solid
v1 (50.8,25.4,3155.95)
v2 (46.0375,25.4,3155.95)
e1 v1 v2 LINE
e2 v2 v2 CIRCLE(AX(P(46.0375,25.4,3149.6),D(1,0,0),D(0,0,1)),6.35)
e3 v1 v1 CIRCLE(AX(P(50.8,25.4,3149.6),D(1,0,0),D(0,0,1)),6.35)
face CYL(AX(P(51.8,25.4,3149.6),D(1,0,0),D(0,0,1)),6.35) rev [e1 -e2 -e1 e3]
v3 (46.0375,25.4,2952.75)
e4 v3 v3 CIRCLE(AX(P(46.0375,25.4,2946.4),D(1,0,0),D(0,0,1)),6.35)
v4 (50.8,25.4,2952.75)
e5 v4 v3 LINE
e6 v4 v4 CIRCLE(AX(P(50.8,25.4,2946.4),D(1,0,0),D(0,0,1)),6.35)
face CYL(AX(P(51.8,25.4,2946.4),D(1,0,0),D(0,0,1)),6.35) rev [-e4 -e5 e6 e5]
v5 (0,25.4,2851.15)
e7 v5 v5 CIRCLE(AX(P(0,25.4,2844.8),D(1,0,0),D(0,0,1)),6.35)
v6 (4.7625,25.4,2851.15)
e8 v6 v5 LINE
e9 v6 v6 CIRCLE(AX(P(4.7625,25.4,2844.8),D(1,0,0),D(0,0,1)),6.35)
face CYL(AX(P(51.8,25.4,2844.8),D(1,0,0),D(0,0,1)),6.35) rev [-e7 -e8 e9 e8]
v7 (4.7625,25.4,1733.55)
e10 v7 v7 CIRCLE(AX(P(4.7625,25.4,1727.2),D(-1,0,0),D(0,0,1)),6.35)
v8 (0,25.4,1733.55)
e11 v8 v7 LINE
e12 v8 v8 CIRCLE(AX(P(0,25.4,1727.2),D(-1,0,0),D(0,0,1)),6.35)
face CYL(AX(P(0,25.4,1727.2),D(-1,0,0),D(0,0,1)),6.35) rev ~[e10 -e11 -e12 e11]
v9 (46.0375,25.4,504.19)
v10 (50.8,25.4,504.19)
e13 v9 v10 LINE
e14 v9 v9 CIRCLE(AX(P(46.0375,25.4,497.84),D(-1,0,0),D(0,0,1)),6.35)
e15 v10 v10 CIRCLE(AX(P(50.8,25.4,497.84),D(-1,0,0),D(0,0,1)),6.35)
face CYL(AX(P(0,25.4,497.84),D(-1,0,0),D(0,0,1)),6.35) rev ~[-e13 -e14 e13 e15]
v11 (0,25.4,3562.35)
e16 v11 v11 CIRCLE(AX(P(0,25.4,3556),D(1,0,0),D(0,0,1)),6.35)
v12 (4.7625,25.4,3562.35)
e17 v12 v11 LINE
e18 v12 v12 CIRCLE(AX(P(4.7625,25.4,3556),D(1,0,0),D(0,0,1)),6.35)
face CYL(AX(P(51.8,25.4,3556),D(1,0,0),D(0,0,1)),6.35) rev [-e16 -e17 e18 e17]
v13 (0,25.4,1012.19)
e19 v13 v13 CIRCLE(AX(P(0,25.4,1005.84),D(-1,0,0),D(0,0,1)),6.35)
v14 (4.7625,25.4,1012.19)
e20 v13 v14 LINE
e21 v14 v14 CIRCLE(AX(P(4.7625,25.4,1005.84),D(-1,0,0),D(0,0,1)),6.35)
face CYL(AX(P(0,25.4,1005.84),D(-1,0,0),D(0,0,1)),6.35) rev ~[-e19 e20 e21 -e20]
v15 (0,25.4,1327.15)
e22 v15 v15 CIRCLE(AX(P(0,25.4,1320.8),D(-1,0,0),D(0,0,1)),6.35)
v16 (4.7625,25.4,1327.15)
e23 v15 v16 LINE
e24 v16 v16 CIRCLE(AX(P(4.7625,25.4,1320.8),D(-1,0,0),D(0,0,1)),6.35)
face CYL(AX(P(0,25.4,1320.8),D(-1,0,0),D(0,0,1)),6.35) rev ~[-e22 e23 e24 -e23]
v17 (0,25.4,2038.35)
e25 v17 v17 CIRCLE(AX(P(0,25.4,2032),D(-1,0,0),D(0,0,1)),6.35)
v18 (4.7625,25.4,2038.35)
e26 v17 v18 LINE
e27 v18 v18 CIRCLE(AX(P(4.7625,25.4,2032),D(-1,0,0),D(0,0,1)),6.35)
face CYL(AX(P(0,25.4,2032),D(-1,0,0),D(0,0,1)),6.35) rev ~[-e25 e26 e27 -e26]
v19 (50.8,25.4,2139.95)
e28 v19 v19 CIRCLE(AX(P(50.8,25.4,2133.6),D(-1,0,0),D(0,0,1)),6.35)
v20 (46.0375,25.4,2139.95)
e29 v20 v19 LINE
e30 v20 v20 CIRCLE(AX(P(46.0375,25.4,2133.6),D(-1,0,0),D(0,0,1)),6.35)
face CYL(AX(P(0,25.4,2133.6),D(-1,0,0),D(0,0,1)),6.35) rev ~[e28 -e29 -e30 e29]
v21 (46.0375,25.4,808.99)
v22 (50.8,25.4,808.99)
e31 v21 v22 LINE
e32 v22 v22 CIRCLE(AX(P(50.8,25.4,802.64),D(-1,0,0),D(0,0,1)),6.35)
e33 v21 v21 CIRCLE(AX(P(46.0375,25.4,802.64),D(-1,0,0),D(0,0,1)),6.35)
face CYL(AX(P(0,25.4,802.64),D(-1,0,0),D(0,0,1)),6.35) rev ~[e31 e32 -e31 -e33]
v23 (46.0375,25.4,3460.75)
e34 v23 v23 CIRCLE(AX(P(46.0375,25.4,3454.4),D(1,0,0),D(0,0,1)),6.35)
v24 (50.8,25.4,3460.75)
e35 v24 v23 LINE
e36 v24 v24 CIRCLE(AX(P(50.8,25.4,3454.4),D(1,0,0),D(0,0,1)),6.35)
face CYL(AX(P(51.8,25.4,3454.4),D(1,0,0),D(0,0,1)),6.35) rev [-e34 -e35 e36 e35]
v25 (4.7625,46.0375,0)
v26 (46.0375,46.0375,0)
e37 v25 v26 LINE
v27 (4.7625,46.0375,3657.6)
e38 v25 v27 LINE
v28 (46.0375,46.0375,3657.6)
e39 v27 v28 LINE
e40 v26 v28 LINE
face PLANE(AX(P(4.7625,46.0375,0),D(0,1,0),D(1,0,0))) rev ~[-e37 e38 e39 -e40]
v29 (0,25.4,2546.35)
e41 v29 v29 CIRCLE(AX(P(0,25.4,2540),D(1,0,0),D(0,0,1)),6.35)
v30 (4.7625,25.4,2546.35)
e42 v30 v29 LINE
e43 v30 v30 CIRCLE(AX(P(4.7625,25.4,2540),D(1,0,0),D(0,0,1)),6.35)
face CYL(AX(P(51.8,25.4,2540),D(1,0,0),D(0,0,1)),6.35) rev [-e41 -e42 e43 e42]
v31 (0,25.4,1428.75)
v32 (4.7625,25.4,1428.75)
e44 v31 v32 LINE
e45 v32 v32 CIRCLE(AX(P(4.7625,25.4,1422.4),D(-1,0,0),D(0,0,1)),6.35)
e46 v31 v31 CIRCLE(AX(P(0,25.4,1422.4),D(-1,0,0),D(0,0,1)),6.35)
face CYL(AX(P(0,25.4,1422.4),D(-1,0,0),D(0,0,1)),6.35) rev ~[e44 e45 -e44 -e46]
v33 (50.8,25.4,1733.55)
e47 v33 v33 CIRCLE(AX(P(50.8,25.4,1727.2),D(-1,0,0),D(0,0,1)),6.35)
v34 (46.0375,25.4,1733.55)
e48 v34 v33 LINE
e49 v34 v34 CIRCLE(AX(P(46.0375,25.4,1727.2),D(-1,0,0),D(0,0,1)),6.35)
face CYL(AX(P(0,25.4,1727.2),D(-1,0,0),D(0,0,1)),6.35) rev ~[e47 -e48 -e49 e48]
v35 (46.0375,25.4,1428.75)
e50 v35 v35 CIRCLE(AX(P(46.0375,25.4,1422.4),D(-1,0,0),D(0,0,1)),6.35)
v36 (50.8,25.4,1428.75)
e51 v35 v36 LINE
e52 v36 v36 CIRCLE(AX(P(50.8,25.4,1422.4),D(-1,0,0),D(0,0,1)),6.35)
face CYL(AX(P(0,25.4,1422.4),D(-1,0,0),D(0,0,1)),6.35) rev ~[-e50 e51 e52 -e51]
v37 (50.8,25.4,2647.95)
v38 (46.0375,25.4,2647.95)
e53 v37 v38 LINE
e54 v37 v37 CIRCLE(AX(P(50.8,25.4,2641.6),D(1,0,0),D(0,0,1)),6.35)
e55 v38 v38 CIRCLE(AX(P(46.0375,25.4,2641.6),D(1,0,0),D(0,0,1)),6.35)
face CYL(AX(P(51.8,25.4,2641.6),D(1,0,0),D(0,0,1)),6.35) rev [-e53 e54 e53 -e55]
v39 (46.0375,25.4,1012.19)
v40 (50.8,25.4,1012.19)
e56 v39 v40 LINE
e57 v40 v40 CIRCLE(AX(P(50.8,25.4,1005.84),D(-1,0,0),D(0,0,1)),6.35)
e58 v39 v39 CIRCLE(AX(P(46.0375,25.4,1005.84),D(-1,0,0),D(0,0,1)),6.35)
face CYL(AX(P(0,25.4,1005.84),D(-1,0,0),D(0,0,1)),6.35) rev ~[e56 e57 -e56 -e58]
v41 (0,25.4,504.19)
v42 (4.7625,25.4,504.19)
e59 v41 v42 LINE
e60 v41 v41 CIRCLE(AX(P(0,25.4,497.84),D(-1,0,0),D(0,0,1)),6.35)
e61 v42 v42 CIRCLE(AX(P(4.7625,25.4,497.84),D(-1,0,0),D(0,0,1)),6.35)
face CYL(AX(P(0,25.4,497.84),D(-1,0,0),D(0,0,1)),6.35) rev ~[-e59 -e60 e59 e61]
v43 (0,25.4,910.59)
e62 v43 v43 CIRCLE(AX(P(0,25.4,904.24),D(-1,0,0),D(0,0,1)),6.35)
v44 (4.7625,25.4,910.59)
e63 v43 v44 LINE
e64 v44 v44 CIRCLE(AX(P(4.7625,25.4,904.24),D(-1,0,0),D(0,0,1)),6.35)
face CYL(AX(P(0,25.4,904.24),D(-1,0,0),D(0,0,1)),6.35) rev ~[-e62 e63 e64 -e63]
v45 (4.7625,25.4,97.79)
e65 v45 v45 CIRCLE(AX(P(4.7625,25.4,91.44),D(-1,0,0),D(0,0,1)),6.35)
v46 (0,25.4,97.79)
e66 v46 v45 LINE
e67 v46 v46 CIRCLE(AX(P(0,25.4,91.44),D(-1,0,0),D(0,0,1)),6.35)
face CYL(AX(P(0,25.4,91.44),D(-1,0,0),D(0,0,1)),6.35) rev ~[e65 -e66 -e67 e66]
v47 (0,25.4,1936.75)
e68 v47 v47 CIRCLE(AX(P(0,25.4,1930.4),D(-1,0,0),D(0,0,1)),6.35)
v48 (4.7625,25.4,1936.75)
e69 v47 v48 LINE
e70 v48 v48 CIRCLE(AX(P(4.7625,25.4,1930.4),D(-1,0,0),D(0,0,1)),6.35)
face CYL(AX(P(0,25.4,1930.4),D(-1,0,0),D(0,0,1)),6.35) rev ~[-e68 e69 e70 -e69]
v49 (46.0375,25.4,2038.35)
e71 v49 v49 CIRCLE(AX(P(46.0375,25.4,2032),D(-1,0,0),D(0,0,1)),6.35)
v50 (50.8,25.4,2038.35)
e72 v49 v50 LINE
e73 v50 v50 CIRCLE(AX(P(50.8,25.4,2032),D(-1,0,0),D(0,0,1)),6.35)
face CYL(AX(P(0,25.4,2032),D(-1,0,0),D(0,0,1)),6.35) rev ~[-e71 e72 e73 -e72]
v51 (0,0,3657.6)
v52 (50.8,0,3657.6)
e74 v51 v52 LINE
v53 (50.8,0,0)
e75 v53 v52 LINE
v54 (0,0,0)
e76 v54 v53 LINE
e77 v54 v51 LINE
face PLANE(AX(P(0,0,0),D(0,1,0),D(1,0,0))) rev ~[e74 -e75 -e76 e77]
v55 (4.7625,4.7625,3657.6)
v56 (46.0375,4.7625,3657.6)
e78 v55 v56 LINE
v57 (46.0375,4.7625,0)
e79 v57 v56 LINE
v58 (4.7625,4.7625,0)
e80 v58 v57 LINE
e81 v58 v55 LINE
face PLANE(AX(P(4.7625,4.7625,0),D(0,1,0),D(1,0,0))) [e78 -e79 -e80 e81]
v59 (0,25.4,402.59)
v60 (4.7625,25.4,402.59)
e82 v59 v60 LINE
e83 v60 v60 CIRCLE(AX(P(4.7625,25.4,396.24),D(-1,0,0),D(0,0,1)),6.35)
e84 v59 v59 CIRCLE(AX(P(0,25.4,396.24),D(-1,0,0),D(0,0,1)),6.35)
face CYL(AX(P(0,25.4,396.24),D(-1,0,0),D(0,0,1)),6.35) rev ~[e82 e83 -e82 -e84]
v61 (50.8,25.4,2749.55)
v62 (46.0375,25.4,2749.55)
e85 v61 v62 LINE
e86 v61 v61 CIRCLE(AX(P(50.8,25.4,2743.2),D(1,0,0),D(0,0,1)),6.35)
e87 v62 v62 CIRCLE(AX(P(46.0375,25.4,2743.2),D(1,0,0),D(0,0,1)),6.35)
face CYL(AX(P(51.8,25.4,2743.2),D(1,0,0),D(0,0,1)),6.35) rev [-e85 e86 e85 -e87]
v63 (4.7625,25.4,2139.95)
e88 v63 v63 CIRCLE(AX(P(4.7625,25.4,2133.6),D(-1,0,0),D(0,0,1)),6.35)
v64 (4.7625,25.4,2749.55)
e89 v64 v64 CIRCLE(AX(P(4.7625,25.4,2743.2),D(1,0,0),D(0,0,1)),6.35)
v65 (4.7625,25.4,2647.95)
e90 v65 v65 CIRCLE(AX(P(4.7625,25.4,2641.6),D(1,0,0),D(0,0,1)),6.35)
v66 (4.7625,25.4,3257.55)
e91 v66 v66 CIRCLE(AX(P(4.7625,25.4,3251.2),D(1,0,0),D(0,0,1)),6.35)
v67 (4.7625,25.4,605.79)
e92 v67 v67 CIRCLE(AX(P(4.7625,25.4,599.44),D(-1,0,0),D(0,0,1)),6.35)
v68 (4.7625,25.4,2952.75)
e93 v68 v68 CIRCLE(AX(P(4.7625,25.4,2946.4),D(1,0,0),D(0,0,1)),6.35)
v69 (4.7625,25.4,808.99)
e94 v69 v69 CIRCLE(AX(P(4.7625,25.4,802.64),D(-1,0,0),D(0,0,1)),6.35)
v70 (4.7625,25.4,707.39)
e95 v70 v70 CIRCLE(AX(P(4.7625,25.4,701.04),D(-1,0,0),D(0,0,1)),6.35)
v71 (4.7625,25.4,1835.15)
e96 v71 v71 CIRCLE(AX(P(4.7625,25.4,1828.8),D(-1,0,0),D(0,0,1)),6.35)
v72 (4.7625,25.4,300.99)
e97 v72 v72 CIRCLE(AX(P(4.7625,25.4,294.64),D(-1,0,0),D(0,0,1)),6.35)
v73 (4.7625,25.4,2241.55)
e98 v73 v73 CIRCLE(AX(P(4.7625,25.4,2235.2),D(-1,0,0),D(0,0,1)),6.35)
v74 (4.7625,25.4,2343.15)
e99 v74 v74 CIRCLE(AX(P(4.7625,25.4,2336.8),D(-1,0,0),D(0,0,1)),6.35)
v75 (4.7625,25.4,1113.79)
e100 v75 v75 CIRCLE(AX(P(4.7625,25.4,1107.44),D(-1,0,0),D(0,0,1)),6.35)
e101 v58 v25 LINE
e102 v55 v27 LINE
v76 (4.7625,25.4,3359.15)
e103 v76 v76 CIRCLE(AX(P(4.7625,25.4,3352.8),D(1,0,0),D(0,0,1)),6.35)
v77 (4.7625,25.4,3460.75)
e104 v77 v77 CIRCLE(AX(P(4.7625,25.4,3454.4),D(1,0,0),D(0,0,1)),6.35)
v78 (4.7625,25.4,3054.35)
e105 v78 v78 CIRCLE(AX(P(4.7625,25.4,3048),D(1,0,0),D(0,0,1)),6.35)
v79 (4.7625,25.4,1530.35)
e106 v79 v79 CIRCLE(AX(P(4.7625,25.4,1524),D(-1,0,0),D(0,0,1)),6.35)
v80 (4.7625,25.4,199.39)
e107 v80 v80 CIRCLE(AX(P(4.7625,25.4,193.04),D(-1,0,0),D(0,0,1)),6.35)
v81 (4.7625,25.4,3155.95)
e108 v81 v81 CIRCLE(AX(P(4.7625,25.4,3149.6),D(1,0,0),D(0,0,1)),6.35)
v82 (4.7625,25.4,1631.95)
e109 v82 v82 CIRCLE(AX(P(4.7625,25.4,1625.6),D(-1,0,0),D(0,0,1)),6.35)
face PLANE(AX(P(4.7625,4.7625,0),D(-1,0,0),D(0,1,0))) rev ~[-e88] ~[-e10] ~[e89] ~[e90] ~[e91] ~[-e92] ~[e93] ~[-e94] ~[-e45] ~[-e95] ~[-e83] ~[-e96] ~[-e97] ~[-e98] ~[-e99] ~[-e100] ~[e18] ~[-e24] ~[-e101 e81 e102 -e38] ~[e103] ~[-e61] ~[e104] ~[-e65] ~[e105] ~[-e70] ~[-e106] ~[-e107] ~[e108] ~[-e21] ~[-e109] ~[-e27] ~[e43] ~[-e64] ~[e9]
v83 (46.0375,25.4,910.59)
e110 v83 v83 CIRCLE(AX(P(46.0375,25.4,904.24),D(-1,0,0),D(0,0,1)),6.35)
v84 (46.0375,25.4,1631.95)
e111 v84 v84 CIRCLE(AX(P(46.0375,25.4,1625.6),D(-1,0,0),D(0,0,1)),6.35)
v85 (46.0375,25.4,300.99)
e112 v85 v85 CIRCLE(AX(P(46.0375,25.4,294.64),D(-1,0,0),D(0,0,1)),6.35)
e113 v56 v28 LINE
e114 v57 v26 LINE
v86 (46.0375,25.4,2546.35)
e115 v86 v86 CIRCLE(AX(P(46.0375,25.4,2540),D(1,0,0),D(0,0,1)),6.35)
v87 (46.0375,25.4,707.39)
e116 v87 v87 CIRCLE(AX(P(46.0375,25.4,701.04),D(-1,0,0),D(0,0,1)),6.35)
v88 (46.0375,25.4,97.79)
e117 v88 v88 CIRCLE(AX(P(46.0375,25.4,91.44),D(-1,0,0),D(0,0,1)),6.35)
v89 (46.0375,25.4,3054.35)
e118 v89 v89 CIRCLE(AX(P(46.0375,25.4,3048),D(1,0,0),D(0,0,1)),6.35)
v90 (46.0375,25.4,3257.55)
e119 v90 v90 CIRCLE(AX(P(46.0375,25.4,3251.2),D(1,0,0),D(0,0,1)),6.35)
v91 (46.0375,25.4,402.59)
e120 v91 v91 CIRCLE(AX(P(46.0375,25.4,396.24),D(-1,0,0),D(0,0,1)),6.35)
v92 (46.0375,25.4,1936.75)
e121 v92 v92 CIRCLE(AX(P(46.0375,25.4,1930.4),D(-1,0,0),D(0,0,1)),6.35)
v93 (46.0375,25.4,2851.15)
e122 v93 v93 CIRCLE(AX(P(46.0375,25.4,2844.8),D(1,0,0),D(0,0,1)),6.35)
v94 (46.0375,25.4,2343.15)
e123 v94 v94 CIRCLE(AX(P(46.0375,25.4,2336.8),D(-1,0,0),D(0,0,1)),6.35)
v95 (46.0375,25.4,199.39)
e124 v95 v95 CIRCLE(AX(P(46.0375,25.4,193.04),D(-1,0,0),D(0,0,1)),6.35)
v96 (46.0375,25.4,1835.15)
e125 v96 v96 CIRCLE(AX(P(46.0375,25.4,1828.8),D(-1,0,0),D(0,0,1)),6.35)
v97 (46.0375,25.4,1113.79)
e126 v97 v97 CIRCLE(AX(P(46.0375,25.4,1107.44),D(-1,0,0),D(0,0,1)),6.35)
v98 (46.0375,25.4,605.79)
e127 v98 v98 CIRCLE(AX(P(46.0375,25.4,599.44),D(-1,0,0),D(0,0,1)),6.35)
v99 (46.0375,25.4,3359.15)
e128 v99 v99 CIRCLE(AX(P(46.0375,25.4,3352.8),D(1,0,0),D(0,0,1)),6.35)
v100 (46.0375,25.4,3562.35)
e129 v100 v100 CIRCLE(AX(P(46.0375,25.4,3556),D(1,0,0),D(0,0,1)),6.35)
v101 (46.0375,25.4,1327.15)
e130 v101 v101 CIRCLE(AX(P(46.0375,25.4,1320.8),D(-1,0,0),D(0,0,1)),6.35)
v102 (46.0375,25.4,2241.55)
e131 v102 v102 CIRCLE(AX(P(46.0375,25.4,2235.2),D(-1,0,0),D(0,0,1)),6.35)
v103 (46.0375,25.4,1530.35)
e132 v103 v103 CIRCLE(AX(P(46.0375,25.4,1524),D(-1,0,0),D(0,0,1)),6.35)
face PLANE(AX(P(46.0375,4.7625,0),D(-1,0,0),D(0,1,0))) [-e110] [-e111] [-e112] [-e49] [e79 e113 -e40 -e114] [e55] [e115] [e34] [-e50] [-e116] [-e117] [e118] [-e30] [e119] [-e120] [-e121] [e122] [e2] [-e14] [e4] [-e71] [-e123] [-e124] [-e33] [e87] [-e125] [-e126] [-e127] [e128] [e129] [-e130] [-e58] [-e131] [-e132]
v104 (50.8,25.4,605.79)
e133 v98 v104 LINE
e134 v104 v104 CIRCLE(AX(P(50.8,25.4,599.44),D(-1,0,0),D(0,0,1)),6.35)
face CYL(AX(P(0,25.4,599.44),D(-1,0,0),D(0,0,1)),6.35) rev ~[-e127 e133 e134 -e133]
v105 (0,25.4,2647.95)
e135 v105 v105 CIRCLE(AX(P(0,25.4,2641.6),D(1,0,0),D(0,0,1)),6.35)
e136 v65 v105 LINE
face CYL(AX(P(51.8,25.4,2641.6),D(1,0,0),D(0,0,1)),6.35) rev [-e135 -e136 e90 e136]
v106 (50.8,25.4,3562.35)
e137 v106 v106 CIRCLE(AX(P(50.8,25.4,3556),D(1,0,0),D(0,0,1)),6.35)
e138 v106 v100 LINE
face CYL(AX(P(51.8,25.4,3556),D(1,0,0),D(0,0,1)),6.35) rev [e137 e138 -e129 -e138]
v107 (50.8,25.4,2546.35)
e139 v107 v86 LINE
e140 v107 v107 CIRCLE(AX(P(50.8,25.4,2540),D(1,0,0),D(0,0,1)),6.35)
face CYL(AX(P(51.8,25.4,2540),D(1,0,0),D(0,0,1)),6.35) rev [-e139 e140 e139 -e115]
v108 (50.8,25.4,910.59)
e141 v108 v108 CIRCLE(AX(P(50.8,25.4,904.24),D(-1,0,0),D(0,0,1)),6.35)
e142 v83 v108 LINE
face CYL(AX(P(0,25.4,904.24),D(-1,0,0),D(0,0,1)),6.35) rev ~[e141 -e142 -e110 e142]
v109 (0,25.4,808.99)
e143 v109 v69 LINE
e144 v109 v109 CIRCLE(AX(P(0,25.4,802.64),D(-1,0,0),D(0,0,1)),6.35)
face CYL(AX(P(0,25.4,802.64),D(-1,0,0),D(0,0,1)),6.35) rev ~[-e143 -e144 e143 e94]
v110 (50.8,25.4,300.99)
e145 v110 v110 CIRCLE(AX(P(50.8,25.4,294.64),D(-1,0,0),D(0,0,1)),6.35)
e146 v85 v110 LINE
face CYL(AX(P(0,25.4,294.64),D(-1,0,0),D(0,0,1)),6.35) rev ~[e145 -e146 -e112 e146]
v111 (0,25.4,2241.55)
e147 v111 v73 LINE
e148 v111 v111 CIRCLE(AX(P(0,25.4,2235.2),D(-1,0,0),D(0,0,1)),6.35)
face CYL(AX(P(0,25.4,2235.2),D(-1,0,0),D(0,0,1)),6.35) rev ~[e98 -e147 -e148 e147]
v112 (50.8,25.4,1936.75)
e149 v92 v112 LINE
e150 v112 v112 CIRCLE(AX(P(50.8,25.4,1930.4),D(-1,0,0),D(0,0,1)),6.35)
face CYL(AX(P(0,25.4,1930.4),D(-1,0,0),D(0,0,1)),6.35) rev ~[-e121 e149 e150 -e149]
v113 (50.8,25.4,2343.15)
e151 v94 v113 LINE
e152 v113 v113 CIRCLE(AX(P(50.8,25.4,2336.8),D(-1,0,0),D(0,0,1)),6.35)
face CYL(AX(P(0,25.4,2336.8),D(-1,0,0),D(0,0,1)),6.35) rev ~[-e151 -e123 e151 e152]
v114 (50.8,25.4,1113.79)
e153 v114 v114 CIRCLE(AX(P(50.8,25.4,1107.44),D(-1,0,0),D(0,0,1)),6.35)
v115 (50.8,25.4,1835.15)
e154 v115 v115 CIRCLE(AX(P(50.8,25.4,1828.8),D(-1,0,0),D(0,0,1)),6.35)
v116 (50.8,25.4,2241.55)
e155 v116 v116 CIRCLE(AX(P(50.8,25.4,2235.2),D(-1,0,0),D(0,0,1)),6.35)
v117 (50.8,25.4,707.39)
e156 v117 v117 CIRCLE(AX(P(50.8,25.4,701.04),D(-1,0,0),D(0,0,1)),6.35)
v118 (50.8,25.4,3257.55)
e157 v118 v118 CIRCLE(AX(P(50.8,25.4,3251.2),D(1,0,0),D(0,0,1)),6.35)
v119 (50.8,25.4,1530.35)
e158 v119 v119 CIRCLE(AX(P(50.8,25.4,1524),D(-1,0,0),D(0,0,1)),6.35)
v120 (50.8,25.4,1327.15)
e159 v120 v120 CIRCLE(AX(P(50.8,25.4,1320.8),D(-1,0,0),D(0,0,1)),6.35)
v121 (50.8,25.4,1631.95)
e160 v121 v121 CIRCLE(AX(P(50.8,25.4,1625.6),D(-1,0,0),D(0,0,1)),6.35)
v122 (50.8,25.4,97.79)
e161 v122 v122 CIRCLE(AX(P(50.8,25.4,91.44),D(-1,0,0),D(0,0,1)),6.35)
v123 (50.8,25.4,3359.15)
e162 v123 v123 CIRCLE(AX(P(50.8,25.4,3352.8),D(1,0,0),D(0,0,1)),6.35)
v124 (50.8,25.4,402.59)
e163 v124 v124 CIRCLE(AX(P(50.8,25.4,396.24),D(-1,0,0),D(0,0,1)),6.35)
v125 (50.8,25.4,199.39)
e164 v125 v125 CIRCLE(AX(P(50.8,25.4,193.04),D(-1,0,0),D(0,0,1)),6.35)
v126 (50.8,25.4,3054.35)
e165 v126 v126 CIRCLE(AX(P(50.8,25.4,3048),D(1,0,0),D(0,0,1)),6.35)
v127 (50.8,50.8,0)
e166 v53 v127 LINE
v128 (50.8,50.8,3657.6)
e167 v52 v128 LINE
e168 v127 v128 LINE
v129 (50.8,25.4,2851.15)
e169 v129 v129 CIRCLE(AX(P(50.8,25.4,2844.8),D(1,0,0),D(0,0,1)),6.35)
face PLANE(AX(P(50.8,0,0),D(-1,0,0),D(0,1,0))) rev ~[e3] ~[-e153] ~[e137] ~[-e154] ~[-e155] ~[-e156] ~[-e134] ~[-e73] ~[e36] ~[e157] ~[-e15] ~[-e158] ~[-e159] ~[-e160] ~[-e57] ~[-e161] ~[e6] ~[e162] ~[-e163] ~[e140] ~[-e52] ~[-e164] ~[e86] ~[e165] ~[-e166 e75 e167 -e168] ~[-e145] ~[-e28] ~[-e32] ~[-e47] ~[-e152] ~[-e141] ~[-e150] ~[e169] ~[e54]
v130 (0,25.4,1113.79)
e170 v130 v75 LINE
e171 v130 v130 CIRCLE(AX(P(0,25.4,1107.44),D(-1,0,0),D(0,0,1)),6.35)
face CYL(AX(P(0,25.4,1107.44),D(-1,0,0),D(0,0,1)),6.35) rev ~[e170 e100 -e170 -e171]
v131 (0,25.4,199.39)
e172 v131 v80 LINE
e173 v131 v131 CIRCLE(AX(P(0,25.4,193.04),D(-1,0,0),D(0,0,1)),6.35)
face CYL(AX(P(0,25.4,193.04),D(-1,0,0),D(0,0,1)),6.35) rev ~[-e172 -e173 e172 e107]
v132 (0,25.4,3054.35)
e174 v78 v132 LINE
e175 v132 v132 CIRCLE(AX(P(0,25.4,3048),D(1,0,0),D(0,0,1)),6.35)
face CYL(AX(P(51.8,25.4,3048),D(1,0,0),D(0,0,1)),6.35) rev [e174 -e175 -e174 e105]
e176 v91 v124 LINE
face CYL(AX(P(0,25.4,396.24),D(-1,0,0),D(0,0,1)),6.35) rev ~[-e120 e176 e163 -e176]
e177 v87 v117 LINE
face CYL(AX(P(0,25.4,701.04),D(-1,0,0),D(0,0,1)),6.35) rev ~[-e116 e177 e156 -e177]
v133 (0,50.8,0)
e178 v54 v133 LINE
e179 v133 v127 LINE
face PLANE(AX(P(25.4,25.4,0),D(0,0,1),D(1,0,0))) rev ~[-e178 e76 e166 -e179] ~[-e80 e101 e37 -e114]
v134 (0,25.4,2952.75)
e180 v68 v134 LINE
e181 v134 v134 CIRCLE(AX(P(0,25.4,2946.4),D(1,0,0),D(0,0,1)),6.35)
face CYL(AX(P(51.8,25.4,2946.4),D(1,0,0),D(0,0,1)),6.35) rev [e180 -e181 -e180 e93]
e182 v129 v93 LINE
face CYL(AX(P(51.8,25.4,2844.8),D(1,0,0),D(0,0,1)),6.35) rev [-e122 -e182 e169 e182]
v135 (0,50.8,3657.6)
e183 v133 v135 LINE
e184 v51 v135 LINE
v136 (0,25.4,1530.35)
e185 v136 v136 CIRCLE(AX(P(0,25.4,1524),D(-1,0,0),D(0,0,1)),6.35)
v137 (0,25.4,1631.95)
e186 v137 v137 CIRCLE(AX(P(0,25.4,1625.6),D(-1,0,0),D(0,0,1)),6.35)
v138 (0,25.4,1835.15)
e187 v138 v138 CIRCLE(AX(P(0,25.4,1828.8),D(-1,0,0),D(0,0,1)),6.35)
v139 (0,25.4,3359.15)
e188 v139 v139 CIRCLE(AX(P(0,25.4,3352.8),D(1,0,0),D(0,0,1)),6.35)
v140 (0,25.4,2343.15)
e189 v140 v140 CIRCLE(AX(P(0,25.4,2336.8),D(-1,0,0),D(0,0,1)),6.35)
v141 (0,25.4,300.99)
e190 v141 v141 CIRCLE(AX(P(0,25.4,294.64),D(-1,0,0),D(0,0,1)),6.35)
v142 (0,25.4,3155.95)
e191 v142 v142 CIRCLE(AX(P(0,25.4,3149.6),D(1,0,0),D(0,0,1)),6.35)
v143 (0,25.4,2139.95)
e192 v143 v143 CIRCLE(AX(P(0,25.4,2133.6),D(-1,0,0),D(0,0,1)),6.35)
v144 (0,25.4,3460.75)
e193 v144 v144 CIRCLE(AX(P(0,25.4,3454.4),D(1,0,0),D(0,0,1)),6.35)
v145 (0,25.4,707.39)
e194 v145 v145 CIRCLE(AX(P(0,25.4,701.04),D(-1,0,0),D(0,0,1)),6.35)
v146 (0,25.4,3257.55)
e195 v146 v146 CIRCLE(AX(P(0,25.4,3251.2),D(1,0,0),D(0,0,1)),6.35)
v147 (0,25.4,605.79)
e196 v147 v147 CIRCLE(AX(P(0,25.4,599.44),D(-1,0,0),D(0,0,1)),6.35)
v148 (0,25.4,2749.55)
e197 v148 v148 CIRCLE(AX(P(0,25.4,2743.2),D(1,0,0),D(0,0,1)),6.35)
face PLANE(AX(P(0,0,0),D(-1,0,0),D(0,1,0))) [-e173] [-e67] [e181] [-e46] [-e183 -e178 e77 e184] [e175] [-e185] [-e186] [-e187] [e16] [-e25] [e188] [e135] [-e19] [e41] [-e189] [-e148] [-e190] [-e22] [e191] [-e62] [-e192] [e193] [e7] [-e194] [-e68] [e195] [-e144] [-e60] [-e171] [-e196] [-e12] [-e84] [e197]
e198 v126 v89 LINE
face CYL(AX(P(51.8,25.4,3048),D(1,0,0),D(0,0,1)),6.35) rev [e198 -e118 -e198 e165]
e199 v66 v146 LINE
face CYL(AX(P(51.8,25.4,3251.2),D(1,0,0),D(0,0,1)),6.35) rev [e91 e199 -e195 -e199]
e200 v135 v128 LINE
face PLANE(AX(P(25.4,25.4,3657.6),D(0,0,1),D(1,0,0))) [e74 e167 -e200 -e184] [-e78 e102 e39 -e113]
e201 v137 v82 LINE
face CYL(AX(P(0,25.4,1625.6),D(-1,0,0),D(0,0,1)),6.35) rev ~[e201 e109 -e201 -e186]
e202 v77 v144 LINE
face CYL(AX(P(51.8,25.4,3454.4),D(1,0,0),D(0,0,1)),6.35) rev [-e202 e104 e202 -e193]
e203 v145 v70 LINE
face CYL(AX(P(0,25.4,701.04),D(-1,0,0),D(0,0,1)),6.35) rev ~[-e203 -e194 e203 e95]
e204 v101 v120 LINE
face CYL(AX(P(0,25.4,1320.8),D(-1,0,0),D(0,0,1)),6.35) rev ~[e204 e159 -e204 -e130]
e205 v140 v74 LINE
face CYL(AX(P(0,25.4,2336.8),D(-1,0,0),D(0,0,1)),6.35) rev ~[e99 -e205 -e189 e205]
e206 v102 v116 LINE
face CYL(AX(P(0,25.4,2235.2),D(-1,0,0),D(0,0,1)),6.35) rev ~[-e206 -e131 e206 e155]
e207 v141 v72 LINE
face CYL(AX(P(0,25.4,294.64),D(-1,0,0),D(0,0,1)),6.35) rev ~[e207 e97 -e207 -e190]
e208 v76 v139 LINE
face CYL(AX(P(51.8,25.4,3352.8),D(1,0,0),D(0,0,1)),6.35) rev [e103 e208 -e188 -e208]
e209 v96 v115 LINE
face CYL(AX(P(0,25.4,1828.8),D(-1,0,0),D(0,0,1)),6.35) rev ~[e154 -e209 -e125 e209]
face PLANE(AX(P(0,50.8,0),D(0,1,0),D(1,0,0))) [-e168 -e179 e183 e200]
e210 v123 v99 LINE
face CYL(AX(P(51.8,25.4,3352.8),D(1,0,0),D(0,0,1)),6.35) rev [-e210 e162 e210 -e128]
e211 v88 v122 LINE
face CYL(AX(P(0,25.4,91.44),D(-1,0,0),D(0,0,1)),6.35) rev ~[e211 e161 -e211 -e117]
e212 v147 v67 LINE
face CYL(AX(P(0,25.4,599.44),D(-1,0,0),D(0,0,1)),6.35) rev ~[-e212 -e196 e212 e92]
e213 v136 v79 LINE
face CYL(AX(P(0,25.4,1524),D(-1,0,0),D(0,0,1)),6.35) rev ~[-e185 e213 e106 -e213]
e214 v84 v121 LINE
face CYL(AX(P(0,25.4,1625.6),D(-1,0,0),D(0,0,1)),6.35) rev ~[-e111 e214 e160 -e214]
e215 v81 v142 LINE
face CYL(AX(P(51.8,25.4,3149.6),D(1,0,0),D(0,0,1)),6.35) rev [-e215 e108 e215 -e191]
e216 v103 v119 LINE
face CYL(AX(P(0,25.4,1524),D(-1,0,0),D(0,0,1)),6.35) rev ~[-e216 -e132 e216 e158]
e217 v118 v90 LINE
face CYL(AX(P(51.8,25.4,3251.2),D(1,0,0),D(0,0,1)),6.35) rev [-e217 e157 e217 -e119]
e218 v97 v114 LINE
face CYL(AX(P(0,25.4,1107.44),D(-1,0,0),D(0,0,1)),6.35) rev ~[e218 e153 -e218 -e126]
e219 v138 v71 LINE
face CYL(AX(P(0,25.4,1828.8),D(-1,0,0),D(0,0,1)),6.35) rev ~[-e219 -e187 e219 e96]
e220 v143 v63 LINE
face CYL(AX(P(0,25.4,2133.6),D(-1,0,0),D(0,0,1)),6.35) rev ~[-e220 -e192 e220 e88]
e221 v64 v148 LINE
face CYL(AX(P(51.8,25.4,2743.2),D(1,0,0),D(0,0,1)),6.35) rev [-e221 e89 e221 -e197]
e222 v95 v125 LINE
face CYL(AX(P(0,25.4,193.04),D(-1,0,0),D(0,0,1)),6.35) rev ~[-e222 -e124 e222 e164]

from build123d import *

# Parameters (mm, degrees)
SKETCH1_W           = 50.8
SKETCH1_H           = 50.8
SKETCH1_W_2         = 41.275
SKETCH1_H_2         = 41.275
BOSS_EXTRUDE1_DEPTH = 3657.6
CUT_EXTRUDE1_START  = -51.8
SKETCH2_R           = 6.35
CUT_EXTRUDE1_DEPTH  = 52.8
LPATTERN1_COUNT     = 11
LPATTERN1_PITCH     = 101.6
SKETCH3_R           = 6.35
CUT_EXTRUDE2_DEPTH  = 51.8
LPATTERN2_COUNT     = 11
LPATTERN2_PITCH     = 101.6
SKETCH4_R           = 6.35
CUT_EXTRUDE3_DEPTH  = 51.8
LPATTERN3_COUNT     = 11
LPATTERN3_PITCH     = 101.6


with BuildPart() as part:
    # Sketch1 → Boss-Extrude1 (new body)
    with BuildSketch(Plane.XY):
        with Locations((25.4, 25.4)):
            Rectangle(SKETCH1_W, SKETCH1_H)
        with Locations((25.4, 25.4)):
            Rectangle(SKETCH1_W_2, SKETCH1_H_2, mode=Mode.SUBTRACT)
    extrude(amount=BOSS_EXTRUDE1_DEPTH)

    # Sketch2 → Cut-Extrude1 (cut)
    with BuildSketch(Plane.ZY.offset(CUT_EXTRUDE1_START)):
        with Locations((3556, 25.4)):
            Circle(SKETCH2_R)
    cut_extrude1 = extrude(amount=CUT_EXTRUDE1_DEPTH, mode=Mode.SUBTRACT)

    # LPattern1: Cut-Extrude1 ×11
    with Locations(*[(0, 0, -i * LPATTERN1_PITCH) for i in range(1, LPATTERN1_COUNT)]):
        add(cut_extrude1, mode=Mode.SUBTRACT)

    # Sketch3 → Cut-Extrude2 (cut, through all)
    with BuildSketch(Plane.ZY):
        with Locations((2336.8, 25.4)):
            Circle(SKETCH3_R)
    cut_extrude2 = extrude(amount=-CUT_EXTRUDE2_DEPTH, mode=Mode.SUBTRACT)

    # LPattern2: Cut-Extrude2 ×11
    with Locations(*[(0, 0, -i * LPATTERN2_PITCH) for i in range(1, LPATTERN2_COUNT)]):
        add(cut_extrude2, mode=Mode.SUBTRACT)

    # Sketch4 → Cut-Extrude3 (cut, through all)
    with BuildSketch(Plane.ZY):
        with Locations((1107.44, 25.4)):
            Circle(SKETCH4_R)
    cut_extrude3 = extrude(amount=-CUT_EXTRUDE3_DEPTH, mode=Mode.SUBTRACT)

    # LPattern3: Cut-Extrude3 ×11
    with Locations(*[(0, 0, -i * LPATTERN3_PITCH) for i in range(1, LPATTERN3_COUNT)]):
        add(cut_extrude3, mode=Mode.SUBTRACT)


solid = part.part
